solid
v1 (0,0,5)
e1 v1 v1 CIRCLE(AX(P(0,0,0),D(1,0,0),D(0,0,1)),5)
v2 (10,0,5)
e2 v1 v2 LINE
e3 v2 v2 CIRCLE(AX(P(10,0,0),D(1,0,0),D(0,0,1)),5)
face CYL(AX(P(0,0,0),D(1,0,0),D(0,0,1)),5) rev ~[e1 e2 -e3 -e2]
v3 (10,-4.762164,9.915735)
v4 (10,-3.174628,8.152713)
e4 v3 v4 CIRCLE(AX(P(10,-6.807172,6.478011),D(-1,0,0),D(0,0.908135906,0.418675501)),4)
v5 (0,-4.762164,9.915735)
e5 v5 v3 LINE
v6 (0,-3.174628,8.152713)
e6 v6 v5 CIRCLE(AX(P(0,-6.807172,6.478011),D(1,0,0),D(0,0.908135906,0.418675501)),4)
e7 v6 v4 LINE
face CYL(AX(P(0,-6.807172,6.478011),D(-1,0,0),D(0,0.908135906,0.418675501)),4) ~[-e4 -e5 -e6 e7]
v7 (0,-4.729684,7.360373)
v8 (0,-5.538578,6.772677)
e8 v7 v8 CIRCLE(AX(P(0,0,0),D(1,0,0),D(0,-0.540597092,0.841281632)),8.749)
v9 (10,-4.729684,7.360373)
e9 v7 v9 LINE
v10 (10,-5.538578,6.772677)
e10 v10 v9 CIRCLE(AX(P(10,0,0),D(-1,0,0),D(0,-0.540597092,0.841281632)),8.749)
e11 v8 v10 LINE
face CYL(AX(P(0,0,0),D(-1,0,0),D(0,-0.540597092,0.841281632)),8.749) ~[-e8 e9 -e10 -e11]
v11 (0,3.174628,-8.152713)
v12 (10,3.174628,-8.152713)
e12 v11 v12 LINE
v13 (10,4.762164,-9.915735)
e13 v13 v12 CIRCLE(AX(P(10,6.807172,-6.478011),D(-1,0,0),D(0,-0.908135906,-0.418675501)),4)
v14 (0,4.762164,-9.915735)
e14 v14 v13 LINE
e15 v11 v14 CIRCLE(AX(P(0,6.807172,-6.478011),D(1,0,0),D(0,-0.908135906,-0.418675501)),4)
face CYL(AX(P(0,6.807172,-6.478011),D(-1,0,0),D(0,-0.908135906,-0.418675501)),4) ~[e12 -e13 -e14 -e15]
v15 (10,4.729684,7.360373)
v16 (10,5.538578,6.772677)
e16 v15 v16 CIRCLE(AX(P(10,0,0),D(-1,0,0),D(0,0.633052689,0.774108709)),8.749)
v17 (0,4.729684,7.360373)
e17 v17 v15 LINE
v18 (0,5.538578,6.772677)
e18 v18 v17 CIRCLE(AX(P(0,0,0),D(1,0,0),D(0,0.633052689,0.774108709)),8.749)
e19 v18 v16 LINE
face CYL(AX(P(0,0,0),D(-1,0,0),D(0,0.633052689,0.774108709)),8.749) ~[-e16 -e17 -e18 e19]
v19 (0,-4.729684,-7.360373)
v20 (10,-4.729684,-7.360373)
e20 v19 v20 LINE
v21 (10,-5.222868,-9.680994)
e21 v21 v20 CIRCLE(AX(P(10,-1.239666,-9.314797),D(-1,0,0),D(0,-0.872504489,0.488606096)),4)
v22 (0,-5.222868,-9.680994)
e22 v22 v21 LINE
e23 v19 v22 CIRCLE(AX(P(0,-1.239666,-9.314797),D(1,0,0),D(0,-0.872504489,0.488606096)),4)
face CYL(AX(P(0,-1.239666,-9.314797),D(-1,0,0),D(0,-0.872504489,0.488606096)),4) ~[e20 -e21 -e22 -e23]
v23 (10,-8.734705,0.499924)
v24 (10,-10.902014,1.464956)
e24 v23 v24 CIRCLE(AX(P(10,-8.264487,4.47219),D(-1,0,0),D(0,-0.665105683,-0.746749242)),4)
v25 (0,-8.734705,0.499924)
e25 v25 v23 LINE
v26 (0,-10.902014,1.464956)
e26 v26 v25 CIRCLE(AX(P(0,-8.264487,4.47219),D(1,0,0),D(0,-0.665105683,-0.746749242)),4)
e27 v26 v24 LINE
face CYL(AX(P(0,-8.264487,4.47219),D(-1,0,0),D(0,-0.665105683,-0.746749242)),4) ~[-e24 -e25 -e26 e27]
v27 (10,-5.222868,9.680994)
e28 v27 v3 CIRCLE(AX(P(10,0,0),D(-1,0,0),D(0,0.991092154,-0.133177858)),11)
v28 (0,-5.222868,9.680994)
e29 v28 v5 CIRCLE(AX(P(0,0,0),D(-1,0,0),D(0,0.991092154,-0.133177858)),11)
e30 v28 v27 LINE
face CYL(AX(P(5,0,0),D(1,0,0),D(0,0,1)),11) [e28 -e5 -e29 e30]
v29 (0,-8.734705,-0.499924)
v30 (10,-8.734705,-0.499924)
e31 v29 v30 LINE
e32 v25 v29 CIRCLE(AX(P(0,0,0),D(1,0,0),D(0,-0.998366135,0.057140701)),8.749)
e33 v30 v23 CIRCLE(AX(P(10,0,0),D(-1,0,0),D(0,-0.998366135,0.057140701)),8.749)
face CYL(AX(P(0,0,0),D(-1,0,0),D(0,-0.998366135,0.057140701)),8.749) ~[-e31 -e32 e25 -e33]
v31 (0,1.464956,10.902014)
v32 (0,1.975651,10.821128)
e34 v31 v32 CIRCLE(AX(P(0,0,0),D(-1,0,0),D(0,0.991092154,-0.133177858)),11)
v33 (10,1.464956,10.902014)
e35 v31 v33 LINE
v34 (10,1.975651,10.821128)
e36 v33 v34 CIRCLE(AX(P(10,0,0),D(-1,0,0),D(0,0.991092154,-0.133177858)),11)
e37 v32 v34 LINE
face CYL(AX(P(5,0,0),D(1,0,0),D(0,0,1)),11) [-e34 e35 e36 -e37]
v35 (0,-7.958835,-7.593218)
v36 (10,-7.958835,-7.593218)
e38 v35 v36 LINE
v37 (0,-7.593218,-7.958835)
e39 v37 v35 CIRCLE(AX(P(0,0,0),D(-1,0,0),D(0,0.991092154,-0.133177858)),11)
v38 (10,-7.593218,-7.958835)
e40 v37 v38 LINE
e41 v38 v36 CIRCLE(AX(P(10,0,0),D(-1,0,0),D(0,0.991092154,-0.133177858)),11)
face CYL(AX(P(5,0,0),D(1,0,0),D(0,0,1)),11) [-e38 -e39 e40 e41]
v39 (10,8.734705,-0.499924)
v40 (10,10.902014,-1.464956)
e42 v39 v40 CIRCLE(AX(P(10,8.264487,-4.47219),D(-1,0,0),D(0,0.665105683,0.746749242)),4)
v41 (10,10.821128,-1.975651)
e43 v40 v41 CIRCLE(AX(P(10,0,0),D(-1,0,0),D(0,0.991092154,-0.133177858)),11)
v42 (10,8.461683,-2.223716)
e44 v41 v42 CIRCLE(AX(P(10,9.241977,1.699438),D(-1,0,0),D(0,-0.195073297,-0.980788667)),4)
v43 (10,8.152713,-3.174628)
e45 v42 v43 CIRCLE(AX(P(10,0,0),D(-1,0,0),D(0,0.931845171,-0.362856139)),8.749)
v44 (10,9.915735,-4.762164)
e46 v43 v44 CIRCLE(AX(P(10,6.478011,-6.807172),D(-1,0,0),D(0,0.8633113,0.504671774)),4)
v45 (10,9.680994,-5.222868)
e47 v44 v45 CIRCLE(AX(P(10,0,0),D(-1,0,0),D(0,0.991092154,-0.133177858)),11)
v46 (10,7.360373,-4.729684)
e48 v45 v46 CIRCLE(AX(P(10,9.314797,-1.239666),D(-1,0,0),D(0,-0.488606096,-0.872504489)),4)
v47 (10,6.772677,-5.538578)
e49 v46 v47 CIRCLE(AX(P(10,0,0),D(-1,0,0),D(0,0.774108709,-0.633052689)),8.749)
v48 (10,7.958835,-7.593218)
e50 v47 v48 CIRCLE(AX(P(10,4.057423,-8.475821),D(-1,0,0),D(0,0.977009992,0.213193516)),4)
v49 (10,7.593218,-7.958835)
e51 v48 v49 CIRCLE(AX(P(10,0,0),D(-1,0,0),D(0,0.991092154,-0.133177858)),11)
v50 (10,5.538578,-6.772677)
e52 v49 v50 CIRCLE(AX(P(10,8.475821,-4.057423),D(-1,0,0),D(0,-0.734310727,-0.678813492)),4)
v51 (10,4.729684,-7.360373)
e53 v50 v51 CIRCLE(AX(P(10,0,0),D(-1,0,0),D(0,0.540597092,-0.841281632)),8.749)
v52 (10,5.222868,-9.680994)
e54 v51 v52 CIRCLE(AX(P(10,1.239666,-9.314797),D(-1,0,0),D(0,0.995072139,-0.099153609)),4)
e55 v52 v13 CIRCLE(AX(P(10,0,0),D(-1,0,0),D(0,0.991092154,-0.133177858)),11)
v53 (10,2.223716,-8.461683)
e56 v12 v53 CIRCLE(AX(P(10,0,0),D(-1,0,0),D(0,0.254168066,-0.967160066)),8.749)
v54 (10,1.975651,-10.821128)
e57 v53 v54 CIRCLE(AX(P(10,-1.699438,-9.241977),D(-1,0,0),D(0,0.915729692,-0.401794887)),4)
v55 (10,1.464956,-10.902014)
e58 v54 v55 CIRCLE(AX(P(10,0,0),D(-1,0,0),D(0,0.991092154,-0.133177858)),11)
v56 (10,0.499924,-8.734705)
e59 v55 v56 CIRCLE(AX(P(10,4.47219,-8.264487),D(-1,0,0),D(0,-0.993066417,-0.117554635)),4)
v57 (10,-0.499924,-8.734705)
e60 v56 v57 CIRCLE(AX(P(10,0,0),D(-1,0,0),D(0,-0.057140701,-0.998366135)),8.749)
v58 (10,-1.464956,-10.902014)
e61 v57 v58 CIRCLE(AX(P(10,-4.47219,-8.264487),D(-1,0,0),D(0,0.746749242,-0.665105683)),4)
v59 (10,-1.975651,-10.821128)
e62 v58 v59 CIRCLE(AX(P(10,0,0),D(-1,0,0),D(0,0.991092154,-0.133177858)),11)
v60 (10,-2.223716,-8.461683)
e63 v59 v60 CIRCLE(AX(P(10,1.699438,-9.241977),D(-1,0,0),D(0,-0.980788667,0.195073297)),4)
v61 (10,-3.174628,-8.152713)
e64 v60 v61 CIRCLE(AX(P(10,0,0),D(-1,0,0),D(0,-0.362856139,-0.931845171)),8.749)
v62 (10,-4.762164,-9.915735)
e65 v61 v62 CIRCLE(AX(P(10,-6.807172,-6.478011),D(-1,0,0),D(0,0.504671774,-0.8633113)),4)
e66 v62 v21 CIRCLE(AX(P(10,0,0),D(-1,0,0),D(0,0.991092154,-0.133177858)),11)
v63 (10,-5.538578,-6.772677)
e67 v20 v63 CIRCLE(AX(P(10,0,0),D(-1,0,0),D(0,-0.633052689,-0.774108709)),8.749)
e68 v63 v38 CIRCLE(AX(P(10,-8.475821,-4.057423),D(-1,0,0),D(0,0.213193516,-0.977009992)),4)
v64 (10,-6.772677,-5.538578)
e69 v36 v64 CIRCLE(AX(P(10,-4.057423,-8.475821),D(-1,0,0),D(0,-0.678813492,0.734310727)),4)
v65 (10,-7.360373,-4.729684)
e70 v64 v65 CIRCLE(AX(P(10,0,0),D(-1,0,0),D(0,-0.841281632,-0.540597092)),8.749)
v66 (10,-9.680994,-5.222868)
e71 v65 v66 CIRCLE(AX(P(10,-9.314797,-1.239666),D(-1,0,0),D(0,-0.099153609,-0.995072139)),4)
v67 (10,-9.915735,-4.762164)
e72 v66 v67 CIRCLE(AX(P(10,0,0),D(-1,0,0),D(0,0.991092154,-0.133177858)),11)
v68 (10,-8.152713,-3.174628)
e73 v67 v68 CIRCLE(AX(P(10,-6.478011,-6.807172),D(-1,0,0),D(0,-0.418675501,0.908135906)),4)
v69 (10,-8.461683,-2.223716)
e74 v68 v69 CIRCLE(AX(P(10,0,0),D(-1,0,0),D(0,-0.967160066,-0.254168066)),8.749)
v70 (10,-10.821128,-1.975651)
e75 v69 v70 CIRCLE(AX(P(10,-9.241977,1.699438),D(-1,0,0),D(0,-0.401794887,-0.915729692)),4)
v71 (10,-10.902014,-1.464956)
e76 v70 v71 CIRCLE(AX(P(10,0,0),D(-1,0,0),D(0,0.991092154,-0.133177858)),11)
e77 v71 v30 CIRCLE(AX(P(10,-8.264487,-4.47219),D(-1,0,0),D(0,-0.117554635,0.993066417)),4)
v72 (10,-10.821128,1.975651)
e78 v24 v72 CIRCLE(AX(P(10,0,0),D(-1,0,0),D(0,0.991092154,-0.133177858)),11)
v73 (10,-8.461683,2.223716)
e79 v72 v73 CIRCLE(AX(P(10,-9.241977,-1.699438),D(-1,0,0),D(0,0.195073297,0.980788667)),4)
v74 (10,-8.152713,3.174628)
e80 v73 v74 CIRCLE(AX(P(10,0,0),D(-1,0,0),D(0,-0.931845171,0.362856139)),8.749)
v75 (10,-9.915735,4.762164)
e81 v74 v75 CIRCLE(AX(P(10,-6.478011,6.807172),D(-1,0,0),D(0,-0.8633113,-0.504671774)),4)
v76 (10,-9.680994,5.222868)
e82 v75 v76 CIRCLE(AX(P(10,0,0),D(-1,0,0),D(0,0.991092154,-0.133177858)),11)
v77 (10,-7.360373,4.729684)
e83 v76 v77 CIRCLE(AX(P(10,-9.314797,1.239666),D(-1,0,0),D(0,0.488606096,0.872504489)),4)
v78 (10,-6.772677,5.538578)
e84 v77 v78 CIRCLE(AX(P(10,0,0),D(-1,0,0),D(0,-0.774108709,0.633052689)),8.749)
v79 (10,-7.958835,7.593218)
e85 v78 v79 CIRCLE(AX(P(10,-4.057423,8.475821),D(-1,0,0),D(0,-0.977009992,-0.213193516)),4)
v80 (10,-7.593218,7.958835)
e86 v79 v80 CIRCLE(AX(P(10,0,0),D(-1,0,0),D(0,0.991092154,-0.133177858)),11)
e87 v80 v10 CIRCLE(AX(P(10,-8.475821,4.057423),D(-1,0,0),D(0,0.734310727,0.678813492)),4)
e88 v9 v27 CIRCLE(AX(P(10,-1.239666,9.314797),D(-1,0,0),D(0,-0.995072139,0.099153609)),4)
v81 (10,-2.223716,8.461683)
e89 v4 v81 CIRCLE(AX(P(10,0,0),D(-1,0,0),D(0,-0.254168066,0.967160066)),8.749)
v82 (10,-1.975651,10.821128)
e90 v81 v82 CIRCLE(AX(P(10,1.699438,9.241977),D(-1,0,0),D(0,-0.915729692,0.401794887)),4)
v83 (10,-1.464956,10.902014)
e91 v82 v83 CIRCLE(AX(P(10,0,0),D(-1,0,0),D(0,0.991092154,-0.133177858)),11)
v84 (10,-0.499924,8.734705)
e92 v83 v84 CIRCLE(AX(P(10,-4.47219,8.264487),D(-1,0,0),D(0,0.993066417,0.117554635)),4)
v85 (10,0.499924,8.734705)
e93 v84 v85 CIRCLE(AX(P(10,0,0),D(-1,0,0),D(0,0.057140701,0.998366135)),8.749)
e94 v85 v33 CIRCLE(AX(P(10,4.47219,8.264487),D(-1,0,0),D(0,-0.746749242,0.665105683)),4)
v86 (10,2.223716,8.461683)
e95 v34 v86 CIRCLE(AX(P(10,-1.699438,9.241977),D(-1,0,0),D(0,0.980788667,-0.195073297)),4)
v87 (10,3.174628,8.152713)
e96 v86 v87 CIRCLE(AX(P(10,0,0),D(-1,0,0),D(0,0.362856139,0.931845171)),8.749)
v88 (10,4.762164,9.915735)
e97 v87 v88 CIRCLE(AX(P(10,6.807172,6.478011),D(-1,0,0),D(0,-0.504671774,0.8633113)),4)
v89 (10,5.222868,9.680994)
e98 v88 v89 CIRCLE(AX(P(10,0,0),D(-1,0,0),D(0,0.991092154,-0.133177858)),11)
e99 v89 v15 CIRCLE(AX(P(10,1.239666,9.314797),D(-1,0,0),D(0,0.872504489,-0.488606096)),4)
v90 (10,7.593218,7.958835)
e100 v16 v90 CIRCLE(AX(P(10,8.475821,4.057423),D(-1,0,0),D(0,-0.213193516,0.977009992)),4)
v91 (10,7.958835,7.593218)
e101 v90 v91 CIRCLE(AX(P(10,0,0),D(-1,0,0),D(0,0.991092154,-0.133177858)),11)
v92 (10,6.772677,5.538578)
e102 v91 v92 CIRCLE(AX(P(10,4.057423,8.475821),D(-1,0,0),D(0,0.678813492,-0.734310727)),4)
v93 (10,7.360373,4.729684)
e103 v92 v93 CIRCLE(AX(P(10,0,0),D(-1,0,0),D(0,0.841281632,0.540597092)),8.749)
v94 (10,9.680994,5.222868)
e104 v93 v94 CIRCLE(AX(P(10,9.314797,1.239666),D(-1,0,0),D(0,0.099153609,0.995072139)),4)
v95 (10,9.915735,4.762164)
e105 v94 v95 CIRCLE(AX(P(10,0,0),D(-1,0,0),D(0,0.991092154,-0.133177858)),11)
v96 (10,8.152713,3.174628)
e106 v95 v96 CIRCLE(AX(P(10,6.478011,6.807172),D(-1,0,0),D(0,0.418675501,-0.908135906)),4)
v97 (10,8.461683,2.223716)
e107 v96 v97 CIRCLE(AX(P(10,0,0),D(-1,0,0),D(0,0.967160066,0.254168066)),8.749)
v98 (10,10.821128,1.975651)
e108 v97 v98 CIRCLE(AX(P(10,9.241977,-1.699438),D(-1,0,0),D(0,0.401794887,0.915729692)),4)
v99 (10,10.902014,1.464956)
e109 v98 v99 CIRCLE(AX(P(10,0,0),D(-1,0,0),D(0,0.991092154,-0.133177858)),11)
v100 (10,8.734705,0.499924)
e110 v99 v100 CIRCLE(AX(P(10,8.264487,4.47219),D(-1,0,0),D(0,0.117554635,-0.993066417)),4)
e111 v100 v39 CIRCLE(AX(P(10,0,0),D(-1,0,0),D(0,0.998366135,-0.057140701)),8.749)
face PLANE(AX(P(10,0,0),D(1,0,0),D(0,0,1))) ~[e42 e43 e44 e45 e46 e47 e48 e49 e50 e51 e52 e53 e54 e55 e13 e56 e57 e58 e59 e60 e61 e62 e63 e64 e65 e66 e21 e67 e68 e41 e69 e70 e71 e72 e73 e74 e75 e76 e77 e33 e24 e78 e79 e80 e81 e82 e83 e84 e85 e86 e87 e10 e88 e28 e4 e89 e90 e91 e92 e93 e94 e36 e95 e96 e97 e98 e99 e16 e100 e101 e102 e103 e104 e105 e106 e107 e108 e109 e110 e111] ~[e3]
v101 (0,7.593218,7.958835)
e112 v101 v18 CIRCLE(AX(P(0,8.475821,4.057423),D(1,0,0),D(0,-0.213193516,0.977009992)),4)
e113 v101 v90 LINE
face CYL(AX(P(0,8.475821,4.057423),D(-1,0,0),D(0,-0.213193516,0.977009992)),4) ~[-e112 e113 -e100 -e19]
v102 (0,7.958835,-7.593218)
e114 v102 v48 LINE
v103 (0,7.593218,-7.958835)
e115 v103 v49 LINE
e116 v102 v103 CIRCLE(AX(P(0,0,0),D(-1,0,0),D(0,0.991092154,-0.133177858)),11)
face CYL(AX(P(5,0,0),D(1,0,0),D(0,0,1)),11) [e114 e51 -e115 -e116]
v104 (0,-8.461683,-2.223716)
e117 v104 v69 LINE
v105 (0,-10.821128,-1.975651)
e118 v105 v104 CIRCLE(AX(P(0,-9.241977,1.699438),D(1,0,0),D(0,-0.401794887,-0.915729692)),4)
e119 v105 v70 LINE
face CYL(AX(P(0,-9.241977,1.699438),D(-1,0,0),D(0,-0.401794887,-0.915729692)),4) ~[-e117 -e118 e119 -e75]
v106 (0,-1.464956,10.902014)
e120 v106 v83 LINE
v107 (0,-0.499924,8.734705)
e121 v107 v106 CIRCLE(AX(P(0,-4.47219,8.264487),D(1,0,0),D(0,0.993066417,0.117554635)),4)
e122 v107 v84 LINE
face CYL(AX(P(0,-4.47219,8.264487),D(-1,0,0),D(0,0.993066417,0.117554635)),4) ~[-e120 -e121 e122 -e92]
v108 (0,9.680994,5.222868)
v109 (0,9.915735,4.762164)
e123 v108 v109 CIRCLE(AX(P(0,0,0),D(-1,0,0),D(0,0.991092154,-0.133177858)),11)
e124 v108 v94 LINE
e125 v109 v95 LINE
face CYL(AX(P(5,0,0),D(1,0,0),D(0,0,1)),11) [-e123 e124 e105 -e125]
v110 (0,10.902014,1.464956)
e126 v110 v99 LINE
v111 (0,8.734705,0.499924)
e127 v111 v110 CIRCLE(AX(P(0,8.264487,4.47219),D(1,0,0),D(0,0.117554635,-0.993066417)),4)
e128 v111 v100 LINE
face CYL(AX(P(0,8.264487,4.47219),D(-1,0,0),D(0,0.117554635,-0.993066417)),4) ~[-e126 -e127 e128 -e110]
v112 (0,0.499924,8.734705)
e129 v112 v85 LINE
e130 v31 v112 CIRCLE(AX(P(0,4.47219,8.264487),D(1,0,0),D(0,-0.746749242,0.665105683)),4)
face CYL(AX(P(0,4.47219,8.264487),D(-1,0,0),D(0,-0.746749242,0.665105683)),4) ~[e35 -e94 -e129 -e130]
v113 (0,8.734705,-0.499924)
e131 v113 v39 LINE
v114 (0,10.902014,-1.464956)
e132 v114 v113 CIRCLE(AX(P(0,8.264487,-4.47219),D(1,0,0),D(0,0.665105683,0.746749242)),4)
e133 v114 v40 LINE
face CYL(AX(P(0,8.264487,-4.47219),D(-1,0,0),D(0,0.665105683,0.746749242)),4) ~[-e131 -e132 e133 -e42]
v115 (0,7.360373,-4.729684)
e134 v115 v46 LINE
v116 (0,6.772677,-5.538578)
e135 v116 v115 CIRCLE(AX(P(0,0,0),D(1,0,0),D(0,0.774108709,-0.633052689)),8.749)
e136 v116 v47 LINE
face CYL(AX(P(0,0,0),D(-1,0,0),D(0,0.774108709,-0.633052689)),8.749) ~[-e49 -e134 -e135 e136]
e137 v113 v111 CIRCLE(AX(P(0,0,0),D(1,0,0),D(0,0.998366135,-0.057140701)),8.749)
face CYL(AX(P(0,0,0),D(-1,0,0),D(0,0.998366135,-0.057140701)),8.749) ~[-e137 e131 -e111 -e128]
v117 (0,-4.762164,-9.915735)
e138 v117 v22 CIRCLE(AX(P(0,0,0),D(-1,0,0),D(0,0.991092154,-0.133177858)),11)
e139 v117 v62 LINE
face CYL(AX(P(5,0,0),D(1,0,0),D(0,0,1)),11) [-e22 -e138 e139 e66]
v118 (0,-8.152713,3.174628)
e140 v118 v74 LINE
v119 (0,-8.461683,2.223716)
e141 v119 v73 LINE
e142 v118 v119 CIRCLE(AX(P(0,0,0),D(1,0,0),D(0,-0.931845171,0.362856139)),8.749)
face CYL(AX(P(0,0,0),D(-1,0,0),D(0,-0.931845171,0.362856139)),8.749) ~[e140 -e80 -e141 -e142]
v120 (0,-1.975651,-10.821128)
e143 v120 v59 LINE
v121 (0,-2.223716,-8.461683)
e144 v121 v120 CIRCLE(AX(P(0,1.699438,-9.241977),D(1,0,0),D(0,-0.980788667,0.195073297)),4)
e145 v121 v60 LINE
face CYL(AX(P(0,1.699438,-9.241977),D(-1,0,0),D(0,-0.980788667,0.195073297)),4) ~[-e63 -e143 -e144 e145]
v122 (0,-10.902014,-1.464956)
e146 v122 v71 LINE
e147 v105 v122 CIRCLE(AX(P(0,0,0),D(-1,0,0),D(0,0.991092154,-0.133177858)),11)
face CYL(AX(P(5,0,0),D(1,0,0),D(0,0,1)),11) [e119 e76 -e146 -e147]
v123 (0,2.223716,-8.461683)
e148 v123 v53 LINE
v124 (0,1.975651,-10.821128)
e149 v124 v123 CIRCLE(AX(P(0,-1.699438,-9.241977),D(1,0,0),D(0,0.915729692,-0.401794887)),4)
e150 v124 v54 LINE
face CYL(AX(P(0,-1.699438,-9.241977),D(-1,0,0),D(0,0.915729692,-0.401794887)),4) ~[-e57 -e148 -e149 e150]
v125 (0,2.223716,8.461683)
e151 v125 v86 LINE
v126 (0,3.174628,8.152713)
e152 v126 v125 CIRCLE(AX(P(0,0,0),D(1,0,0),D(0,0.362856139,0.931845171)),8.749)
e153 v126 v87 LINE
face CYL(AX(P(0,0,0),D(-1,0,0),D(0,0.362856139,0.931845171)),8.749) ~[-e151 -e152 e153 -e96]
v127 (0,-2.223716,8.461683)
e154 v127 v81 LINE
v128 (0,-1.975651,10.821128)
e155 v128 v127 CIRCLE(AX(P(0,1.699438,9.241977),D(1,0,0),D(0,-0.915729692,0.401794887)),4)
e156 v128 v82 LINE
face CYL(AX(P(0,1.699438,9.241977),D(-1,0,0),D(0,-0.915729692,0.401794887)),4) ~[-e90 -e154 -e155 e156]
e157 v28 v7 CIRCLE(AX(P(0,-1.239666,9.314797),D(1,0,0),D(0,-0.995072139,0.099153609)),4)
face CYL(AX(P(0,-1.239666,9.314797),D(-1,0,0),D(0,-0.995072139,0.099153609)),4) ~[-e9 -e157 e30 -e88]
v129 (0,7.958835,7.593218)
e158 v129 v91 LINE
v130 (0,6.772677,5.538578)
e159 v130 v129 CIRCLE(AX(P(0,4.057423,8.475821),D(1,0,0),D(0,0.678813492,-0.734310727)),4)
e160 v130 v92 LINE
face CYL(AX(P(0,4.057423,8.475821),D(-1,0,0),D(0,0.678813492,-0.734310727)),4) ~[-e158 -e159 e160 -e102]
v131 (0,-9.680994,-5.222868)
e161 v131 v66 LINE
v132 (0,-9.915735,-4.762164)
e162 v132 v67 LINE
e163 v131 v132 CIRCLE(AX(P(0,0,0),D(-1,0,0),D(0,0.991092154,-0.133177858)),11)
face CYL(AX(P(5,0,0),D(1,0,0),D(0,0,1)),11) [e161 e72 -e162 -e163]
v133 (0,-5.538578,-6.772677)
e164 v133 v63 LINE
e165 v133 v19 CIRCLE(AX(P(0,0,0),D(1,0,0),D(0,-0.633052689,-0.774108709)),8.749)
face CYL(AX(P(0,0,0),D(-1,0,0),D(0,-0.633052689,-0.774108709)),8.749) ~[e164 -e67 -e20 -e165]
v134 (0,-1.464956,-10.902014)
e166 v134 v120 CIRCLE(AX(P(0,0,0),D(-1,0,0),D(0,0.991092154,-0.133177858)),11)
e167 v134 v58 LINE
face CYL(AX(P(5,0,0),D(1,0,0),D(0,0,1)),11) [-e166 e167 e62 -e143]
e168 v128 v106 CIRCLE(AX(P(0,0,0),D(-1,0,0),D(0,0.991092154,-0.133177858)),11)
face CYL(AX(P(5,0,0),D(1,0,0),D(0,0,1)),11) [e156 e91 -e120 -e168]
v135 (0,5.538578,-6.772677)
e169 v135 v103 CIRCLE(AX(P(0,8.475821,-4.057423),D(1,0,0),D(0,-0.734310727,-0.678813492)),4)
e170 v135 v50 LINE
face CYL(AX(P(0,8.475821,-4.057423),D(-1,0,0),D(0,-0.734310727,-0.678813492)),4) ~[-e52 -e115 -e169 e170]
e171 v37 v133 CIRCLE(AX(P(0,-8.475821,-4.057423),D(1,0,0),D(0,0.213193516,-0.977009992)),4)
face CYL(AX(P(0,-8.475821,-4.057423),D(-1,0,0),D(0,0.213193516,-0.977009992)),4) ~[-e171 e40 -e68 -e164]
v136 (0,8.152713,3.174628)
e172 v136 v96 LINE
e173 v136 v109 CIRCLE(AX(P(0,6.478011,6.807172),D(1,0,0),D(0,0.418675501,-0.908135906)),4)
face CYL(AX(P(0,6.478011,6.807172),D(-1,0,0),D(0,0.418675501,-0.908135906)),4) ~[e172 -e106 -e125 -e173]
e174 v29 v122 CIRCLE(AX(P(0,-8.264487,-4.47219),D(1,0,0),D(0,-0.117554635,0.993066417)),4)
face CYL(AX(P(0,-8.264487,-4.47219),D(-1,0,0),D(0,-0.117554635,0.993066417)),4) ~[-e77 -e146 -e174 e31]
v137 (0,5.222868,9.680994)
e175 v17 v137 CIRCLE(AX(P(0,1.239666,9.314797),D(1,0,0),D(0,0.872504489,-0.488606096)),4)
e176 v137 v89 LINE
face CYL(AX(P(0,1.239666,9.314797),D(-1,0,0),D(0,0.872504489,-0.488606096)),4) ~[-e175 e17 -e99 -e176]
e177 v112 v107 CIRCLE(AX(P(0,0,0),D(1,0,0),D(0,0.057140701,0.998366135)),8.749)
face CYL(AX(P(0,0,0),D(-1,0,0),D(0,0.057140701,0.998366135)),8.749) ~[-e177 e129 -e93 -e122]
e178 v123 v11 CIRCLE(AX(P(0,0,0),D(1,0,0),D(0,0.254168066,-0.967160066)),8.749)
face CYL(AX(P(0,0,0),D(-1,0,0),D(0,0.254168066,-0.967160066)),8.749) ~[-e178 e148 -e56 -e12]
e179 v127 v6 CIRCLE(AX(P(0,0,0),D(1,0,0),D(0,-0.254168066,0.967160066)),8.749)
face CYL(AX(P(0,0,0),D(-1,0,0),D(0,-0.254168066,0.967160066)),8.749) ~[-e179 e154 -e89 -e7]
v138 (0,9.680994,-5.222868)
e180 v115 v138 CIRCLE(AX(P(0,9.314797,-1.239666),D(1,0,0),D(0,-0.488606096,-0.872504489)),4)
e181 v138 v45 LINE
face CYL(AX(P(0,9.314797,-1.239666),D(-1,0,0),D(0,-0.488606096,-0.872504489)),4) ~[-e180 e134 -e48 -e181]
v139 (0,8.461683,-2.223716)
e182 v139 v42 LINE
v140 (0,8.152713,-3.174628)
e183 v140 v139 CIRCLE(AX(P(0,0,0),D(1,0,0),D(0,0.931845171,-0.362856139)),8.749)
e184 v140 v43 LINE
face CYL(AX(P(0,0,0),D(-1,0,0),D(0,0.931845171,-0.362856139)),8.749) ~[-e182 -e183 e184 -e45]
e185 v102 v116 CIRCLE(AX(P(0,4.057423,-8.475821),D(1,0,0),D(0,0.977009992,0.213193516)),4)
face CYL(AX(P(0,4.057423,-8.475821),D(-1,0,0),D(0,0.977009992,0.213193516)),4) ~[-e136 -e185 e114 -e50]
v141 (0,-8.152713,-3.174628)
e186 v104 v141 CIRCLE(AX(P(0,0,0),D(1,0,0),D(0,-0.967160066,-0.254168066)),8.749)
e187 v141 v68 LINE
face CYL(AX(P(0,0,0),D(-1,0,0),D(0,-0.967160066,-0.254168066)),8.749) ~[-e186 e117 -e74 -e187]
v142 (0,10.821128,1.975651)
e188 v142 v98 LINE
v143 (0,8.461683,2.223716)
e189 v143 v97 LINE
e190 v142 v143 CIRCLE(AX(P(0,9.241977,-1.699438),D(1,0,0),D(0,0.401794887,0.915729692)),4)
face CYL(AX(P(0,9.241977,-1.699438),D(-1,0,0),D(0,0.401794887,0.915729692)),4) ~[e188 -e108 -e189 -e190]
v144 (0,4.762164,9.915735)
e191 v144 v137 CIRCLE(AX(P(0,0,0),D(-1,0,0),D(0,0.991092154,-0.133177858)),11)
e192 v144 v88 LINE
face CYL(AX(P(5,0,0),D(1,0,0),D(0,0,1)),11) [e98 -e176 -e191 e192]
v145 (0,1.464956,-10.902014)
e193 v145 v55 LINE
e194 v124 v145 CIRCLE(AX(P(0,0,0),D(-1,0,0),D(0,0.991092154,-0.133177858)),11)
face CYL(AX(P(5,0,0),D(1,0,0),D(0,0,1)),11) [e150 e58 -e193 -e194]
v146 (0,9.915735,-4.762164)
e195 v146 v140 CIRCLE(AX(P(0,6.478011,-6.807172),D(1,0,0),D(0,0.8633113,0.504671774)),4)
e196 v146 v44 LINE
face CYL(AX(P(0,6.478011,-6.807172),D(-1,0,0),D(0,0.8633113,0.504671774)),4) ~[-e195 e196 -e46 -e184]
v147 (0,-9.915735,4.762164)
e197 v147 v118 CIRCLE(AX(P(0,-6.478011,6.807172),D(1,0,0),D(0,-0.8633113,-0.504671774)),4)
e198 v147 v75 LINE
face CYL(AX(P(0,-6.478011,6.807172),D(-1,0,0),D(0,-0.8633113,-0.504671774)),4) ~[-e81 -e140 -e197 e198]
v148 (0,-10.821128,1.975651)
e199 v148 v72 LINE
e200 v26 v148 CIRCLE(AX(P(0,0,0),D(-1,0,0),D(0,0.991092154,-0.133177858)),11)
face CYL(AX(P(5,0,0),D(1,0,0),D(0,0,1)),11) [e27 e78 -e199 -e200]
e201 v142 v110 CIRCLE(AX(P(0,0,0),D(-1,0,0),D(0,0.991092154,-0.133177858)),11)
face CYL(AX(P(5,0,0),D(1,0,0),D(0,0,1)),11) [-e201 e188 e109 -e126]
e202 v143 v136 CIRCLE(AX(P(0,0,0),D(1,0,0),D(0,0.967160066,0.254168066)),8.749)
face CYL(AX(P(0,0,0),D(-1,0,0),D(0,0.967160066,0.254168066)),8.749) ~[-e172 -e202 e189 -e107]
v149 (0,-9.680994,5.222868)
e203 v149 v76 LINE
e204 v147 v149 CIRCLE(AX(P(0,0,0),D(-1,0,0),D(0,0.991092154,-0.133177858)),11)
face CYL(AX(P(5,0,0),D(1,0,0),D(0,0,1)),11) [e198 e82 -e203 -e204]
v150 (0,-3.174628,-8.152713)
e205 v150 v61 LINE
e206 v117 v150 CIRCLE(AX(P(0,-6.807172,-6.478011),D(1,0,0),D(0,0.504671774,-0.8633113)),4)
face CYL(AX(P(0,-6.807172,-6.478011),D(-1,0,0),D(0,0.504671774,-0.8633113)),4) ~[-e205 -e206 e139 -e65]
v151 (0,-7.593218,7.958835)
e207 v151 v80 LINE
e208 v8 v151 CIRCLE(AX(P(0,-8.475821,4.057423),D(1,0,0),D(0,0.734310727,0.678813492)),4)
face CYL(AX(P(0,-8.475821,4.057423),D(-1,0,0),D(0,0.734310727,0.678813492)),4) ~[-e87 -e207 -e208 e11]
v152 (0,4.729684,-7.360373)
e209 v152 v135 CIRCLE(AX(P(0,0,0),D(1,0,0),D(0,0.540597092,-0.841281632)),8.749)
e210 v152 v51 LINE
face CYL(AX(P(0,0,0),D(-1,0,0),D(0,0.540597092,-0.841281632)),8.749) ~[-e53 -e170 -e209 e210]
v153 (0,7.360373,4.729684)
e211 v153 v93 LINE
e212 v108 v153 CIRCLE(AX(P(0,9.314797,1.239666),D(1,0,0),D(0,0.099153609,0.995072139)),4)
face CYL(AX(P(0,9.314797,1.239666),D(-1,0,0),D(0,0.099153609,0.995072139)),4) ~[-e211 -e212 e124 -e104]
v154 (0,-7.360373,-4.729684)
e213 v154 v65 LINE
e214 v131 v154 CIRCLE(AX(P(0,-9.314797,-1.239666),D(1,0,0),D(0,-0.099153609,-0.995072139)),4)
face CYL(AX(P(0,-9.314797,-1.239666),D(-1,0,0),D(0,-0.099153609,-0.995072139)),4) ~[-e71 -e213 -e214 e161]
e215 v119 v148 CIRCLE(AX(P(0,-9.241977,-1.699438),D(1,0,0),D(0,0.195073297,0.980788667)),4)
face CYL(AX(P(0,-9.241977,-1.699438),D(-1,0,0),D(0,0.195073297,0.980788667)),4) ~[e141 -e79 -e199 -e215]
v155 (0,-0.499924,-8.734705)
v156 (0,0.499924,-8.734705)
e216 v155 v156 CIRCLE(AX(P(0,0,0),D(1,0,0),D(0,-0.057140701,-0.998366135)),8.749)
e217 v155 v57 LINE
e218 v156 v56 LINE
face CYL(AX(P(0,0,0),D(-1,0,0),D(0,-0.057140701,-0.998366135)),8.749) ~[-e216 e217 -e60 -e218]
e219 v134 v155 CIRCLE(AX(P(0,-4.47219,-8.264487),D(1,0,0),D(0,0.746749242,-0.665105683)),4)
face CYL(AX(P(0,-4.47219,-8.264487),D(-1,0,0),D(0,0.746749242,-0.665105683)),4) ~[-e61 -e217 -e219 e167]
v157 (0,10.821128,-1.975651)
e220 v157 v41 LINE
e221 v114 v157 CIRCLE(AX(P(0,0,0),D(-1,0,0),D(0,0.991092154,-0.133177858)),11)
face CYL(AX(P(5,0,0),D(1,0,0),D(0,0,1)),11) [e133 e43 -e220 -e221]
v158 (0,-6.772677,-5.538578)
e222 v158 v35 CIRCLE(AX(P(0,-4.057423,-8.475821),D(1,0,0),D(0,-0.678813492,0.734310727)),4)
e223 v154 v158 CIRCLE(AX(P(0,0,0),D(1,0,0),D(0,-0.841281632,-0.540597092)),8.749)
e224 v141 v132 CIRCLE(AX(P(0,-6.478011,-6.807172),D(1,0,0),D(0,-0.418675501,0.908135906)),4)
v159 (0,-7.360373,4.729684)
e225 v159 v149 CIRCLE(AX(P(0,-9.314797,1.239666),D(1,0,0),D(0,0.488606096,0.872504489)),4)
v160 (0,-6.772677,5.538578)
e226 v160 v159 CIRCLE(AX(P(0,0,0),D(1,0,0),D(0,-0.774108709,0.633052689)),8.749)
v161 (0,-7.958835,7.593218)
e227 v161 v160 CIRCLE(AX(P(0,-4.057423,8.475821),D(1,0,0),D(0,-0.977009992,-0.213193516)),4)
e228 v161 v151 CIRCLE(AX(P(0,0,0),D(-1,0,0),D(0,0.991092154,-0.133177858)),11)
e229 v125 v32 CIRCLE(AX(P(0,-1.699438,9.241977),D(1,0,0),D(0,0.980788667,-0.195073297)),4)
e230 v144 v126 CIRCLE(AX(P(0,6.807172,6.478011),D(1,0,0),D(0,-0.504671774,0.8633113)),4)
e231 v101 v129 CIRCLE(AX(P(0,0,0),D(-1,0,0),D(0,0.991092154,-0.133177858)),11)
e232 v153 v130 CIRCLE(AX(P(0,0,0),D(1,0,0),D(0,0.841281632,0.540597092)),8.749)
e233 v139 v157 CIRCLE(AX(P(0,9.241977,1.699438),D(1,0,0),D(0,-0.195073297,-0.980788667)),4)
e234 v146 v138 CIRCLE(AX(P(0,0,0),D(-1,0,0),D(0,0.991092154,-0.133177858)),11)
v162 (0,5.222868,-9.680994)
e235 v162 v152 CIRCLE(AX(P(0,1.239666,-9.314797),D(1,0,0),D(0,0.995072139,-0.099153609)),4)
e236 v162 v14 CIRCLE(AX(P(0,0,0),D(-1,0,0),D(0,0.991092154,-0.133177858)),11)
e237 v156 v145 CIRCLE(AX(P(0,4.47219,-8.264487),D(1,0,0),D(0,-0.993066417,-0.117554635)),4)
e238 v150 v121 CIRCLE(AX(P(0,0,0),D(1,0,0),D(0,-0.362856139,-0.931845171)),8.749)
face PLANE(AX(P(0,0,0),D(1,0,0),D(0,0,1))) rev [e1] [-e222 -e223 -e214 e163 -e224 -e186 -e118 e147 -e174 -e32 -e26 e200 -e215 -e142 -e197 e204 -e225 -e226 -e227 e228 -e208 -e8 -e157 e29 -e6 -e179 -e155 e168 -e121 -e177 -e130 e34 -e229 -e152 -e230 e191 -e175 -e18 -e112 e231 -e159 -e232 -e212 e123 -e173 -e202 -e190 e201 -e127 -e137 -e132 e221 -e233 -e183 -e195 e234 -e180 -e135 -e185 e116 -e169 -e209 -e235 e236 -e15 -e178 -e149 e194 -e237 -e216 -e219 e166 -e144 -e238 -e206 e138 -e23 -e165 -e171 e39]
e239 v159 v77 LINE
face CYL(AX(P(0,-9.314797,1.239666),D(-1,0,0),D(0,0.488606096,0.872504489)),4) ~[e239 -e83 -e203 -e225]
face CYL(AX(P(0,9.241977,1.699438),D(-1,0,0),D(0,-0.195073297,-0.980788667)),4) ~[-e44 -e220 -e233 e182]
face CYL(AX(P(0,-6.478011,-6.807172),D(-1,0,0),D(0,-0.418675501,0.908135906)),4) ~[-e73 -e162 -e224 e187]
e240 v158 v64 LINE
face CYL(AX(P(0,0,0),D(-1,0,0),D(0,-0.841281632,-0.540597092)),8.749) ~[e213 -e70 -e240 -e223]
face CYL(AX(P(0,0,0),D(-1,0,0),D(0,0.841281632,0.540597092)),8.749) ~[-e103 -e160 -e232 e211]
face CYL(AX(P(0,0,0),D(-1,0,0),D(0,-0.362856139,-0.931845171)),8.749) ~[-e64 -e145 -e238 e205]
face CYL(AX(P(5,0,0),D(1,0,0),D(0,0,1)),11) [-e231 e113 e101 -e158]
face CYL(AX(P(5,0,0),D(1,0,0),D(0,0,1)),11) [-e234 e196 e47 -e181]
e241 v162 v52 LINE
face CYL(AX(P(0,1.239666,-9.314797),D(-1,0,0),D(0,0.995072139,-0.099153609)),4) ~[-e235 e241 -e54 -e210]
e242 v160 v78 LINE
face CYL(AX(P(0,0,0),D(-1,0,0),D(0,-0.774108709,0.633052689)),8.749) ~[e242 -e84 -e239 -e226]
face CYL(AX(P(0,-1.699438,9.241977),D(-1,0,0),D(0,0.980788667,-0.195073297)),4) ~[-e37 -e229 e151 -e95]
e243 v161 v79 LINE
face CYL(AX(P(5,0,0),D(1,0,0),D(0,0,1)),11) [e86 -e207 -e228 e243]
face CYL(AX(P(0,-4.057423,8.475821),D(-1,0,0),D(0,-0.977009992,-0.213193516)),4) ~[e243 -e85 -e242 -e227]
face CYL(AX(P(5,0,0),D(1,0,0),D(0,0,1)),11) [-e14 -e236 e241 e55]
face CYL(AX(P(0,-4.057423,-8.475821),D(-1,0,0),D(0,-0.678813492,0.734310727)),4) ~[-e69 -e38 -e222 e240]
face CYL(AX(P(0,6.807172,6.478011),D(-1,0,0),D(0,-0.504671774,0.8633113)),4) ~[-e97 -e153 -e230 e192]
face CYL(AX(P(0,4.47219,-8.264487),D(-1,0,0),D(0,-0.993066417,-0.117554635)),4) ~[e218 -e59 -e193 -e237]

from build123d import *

# Parameters (mm, degrees)
BASPROSKE_W     = 10
BASPROSKE_H     = 11
TOOTHCUT_DEPTH  = 19.493242009
TEETHCUTS_COUNT = 20
TEETHCUTS_ANGLE = 342
BORSKE_R        = 5
BORE_DEPTH      = 50.0000508


with BuildPart() as part:
    # BasProSke → Base-Revolve (revolve)
    with BuildSketch(Plane(origin=(0, 0, 0), x_dir=(1, 0, 0), z_dir=(0, 1, 0)), mode=Mode.PRIVATE) as base_revolve_sk:
        with Locations((5, 5.5)):
            Rectangle(BASPROSKE_W, BASPROSKE_H)
    revolve(base_revolve_sk.sketch.rotate(Axis((-10, 0, 0), (1, 0, 0)), 180), axis=Axis((-10, 0, 0), (1, 0, 0)))

    # TooCutSke → ToothCut (cut, through all)
    with BuildSketch(Plane(origin=(0, 0, 0), x_dir=(0, 0, -1), z_dir=(1, 0, 0))):
        with BuildLine():
            ThreePointArc((0.499924007, 8.734705318), (0, 8.749), (-0.499924007, 8.734705318))
            ThreePointArc((-0.499924007, 8.734705318), (-0.824302243, 9.905497836), (-1.485192705, 10.924909509))
            ThreePointArc((-1.485192705, 10.924909509), (0, 11.0254), (1.485192705, 10.924909509))
            ThreePointArc((1.485192705, 10.924909509), (0.824302243, 9.905497836), (0.499924007, 8.734705318))
        make_face()
    toothcut = extrude(amount=TOOTHCUT_DEPTH, mode=Mode.SUBTRACT)

    # TeethCuts: ToothCut ×20 about axis
    teethcuts_axis = Axis((-10, 0, 0), (1, 0, 0))
    for i in range(1, TEETHCUTS_COUNT):
        add(toothcut.rotate(teethcuts_axis, i * TEETHCUTS_ANGLE / (TEETHCUTS_COUNT - 1)), mode=Mode.SUBTRACT)

    # BorSke → Bore (cut, symmetric)
    with BuildSketch(Plane(origin=(0, 0, 0), x_dir=(0, 0, -1), z_dir=(1, 0, 0))):
        with Locations(Location((0, 0, 0), (0, 0, 180))):
            Circle(BORSKE_R)
    extrude(amount=BORE_DEPTH, both=True, mode=Mode.SUBTRACT)


solid = part.part
